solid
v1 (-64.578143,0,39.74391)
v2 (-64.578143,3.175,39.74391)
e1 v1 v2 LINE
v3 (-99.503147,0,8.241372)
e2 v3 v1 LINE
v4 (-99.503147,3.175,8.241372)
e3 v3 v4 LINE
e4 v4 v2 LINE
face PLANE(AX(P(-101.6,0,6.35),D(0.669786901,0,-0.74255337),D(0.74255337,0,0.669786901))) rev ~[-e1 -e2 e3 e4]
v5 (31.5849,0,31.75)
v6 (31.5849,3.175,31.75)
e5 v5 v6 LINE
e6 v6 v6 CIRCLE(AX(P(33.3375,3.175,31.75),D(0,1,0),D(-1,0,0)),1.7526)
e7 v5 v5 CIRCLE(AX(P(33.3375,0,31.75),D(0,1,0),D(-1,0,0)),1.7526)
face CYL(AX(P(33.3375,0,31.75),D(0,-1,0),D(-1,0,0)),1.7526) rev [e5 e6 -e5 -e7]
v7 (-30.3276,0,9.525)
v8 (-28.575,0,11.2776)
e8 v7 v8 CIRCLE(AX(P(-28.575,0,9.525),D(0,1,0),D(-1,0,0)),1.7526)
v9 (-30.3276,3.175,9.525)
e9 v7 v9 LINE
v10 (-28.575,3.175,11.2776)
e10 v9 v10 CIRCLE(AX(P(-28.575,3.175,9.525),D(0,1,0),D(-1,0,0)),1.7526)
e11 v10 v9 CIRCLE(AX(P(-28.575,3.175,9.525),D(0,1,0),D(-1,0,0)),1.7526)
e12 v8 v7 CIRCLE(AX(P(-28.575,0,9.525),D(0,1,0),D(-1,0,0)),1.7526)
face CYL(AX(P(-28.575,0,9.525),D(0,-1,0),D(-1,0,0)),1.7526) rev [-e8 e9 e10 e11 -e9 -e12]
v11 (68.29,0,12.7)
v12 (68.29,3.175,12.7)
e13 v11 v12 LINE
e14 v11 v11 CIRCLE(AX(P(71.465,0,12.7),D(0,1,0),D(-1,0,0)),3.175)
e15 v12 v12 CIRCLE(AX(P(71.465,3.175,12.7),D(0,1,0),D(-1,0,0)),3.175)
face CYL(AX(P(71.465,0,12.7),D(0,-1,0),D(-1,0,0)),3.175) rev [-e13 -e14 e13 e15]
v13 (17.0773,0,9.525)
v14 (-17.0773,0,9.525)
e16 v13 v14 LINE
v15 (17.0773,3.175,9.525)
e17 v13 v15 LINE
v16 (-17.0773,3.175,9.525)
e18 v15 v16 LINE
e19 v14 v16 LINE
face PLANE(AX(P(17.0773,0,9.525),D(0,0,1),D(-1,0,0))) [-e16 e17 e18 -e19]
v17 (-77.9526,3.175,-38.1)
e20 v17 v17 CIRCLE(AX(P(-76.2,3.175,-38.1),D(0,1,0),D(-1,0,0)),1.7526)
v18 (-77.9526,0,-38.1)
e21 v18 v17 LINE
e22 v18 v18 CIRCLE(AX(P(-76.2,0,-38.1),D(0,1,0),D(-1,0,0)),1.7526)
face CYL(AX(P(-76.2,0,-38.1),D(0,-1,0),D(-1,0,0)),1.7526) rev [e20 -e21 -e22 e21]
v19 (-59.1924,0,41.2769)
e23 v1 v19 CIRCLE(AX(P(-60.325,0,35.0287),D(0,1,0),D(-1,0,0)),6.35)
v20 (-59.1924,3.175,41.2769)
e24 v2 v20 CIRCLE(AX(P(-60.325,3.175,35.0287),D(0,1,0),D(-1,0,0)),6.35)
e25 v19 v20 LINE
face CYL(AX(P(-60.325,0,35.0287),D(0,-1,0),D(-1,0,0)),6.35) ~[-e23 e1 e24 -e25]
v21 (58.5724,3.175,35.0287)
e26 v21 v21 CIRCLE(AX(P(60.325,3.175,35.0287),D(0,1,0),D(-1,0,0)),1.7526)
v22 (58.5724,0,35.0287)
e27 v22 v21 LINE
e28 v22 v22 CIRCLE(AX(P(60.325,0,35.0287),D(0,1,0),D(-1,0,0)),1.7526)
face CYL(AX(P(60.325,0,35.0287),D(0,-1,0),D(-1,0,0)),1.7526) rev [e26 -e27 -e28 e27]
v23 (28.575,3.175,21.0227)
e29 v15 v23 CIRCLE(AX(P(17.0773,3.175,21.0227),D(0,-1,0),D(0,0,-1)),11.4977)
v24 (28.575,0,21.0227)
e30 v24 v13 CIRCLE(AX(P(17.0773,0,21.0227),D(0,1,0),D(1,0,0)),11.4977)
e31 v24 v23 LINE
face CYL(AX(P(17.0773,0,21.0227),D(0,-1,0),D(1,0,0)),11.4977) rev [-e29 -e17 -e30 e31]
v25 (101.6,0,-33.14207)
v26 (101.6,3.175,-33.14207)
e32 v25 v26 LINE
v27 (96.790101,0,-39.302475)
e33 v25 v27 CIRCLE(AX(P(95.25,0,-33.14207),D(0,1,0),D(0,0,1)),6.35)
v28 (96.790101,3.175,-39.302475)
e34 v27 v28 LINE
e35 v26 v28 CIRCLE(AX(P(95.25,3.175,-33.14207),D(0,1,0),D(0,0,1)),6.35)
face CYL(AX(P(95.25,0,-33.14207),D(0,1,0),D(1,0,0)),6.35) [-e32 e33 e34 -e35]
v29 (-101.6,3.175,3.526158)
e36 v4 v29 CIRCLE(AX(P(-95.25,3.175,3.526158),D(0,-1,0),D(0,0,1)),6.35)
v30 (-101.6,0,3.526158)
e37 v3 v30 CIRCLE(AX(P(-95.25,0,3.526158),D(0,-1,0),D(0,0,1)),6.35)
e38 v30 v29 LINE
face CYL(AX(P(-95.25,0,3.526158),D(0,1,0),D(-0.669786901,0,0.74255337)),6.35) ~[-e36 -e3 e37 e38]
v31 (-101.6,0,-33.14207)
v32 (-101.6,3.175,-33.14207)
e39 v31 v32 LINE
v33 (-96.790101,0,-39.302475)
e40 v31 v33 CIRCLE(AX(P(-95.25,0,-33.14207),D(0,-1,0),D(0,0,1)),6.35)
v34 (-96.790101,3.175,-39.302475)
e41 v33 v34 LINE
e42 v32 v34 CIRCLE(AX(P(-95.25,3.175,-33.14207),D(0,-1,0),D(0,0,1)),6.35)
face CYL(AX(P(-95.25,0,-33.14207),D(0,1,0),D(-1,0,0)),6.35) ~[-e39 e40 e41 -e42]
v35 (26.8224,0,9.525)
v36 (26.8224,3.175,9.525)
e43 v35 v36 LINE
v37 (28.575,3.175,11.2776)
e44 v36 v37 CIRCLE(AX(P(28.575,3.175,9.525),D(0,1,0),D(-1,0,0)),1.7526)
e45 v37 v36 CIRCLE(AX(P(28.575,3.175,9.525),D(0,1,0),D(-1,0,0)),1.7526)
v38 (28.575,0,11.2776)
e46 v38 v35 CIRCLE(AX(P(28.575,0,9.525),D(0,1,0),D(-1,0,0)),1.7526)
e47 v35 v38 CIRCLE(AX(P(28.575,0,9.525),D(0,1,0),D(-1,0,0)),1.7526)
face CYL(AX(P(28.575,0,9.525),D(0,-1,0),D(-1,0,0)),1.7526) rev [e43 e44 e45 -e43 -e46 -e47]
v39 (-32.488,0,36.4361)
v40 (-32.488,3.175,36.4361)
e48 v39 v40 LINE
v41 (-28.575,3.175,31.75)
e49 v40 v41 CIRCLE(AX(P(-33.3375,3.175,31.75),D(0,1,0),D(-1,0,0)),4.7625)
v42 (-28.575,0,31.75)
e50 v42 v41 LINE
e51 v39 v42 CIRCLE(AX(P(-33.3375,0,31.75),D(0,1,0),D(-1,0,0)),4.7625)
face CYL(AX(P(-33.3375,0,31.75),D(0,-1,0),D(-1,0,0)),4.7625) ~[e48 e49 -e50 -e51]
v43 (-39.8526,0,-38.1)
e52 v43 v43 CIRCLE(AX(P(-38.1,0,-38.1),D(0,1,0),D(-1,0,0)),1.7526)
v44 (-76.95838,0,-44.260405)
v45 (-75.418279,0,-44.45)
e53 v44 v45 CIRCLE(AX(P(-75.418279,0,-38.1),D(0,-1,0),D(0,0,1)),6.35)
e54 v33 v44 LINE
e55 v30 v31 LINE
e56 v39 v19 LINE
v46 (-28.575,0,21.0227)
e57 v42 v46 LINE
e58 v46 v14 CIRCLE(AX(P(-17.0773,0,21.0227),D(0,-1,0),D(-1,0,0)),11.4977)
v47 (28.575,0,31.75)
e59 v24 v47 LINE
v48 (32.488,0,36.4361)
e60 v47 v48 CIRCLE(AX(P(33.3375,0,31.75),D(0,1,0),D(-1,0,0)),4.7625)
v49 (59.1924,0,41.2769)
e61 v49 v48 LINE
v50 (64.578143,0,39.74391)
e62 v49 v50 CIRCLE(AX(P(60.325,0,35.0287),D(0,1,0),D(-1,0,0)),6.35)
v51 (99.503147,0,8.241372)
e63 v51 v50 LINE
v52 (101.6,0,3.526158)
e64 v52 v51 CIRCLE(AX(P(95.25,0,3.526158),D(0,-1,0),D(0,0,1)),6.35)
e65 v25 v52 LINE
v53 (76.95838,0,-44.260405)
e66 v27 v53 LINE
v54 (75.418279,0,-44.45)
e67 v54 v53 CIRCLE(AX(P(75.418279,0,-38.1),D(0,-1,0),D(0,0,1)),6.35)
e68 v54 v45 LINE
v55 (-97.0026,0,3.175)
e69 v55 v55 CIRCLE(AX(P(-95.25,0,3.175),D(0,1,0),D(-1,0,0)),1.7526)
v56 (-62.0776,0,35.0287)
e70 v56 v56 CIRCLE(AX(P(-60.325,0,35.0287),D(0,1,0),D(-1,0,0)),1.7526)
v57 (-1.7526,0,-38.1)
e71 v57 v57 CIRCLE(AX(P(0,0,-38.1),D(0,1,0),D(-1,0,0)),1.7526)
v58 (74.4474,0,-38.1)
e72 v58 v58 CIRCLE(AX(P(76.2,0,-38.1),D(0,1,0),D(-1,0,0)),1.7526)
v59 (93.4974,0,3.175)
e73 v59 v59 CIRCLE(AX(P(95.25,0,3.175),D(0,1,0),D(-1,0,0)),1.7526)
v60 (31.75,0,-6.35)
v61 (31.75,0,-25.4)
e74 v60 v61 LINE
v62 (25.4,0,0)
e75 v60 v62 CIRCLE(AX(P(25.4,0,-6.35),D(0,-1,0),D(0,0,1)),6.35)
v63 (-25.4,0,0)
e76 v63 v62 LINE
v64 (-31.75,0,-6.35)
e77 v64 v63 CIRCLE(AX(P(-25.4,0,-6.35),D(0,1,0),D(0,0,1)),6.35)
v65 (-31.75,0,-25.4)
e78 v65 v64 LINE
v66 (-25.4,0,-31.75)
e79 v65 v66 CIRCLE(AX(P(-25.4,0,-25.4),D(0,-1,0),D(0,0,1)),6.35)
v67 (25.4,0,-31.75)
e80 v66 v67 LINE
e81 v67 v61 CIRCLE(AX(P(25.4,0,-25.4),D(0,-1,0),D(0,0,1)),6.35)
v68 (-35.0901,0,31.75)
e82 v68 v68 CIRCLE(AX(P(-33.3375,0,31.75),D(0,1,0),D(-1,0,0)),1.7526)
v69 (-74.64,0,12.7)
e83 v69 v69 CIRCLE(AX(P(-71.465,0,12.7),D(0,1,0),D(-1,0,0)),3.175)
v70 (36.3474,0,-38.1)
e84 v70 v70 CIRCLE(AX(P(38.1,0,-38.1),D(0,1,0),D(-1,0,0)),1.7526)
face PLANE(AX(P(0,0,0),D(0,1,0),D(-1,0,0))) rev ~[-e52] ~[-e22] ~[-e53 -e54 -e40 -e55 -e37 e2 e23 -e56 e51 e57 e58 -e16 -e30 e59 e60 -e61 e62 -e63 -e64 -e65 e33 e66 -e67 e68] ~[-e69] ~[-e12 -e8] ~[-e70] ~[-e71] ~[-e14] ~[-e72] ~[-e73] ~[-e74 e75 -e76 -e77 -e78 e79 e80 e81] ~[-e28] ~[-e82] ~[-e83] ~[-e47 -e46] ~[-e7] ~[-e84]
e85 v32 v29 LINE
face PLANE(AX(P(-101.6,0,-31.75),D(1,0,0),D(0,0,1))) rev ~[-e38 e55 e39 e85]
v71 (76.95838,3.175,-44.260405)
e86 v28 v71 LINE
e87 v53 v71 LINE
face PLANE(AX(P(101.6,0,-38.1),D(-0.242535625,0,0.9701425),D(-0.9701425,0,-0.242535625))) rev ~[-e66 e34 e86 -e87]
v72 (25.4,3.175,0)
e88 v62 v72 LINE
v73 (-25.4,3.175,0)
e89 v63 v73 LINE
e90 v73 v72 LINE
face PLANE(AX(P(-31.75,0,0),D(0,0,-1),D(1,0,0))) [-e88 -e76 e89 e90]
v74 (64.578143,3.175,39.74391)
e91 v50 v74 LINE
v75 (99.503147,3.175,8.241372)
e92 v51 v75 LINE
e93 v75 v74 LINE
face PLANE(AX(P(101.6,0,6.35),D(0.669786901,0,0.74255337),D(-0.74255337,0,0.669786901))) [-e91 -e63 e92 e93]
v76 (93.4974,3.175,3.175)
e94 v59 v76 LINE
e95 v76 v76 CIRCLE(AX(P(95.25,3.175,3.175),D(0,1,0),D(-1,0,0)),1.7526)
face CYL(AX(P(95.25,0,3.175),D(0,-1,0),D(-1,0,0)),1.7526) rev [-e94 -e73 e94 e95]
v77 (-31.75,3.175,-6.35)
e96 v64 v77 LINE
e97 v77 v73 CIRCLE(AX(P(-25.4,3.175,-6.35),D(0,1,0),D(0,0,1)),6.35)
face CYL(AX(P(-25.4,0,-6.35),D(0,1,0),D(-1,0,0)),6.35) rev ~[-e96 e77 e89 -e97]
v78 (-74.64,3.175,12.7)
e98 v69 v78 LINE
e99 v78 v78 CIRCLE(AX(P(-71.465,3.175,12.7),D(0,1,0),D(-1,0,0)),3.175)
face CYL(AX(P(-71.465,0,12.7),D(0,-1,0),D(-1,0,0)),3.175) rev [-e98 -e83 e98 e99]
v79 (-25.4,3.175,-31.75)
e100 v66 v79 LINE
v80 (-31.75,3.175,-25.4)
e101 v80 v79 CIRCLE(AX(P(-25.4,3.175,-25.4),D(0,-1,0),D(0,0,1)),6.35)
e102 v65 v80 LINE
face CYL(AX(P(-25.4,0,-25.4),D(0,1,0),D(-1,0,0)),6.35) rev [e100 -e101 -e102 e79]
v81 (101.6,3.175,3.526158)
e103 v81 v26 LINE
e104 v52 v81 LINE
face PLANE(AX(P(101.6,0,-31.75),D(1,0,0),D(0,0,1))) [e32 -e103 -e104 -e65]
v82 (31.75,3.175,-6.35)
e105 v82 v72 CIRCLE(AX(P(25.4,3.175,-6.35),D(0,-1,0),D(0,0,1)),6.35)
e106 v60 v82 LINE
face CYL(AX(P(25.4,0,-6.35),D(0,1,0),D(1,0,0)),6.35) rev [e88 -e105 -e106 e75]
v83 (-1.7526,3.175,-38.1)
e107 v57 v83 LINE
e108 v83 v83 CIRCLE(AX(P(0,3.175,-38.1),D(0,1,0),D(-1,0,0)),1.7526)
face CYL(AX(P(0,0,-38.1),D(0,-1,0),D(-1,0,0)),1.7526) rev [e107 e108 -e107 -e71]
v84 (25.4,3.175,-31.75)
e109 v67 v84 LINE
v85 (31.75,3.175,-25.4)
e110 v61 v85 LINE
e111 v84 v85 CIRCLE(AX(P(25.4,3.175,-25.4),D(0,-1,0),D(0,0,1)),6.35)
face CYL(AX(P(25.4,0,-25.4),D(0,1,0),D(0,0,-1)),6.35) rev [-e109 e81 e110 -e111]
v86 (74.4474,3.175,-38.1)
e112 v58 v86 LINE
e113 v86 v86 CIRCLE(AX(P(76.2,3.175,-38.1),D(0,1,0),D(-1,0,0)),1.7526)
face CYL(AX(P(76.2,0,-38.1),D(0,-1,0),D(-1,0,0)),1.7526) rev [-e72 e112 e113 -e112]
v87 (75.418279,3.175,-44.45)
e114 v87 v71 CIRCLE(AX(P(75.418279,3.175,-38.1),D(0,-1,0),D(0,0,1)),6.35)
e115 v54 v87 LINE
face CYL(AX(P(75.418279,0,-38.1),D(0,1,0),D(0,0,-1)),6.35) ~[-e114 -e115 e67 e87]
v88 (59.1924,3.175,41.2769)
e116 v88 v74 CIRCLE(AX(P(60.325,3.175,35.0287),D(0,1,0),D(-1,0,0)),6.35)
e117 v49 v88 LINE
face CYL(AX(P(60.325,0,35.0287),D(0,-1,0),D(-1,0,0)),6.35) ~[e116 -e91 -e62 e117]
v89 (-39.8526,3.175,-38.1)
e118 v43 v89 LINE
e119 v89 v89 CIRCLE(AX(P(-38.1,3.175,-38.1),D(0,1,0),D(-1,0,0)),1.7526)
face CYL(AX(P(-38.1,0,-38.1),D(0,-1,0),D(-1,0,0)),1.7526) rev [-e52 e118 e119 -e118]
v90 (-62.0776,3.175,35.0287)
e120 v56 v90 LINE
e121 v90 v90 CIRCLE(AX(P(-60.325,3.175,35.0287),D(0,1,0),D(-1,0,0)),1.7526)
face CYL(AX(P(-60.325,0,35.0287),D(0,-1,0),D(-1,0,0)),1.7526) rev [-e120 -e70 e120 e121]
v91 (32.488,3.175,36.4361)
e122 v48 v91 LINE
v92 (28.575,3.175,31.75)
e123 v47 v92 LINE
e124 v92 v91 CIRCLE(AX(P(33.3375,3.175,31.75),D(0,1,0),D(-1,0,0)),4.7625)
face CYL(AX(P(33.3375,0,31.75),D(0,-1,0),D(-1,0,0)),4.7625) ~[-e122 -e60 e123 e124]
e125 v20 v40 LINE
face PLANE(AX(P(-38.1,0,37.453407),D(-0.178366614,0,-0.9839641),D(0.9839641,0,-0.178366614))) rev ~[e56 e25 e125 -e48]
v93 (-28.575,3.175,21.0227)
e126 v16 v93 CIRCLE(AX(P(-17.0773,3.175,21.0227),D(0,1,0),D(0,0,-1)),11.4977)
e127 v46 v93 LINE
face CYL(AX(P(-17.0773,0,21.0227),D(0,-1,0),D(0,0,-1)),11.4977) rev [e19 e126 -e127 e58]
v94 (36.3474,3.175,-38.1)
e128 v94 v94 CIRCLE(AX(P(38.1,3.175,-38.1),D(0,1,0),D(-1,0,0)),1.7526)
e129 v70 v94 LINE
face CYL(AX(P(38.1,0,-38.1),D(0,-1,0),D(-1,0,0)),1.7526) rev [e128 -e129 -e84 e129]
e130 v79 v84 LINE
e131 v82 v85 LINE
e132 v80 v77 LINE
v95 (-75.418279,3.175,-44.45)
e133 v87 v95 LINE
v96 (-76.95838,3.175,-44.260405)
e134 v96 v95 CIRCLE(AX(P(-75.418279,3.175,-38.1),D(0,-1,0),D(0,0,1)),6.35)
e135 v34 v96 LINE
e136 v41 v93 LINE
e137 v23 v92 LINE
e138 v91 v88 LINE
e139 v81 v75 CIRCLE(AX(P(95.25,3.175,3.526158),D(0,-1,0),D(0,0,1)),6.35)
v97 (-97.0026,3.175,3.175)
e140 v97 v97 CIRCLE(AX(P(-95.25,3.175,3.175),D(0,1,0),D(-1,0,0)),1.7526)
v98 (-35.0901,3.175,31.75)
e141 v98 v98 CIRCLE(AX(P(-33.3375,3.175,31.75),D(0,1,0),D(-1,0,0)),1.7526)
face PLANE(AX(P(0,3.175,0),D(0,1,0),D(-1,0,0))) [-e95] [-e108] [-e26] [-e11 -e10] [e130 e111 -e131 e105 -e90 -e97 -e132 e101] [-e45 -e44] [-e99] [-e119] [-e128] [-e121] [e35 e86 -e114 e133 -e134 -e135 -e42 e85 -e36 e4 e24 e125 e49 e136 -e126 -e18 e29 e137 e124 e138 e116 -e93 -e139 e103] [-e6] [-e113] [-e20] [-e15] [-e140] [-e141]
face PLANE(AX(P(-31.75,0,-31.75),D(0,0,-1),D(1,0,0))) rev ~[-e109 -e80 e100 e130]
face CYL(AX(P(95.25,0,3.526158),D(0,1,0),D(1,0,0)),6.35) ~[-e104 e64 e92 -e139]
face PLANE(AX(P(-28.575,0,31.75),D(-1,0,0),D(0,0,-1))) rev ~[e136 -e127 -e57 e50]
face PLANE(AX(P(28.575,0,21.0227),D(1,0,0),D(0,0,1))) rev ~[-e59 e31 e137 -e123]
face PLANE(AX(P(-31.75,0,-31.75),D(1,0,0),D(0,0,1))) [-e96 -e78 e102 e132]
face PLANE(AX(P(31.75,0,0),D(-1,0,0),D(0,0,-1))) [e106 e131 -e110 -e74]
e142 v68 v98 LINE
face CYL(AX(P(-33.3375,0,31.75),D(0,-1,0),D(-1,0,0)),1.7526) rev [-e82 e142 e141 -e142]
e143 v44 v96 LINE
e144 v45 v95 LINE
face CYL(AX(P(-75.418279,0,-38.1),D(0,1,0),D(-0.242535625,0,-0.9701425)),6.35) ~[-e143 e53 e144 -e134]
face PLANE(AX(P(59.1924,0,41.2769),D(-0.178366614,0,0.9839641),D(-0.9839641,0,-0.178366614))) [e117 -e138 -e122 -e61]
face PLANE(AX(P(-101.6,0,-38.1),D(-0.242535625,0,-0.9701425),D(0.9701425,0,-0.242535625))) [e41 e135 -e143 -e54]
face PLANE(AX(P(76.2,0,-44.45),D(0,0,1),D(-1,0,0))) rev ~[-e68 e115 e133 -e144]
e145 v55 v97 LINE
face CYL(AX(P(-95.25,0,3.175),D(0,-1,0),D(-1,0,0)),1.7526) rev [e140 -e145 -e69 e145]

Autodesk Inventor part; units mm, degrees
ref_plane "YZ Plane" through (0, 0, 0) normal (1, 0, 0) x (0, 1, 0)
ref_plane "XZ Plane" through (0, 0, 0) normal (0, 1, 0) x (-1, 0, 0)
ref_plane "XY Plane" through (0, 0, 0) normal (0, 0, 1) x (1, 0, 0)
sketch "Sketch1" plane through (0, 0, 0) normal (0, 1, 0) x (-1, 0, 0)
  line L0 (101.6, 38.1) -> (-101.6, 38.1) construction
  line L1 (-101.6, 38.1) -> (-101.6, -38.1) construction
  line L2 (-101.6, -38.1) -> (101.6, -38.1) construction
  line L3 (101.6, -38.1) -> (101.6, 38.1) construction
  line L4 (101.6, 38.1) -> (-101.6, -38.1) construction
  line L5 (-101.6, 38.1) -> (101.6, -38.1) construction
  line L6 (-28.575, 66.675) -> (28.575, 66.675) construction
  line L7 (28.575, 66.675) -> (28.575, 9.525)
  line L8 (28.575, 9.525) -> (-28.575, 9.525) construction
  line L9 (-28.575, 9.525) -> (-28.575, 66.675)
  line L10 (-28.575, 66.675) -> (28.575, 9.525) construction
  line L11 (28.575, 66.675) -> (-28.575, 9.525) construction
  circle A0 centre (-38.1, 50.8) radius 3.175
  line L12 (0, 38.1) -> (0, -38.1) construction
  circle A1 centre (-38.1, 50.8) radius 9.525
  line L13 (-38.1, 60.325) -> (-28.575, 60.325)
  circle A2 centre (38.1, 50.8) radius 3.175
  circle A3 centre (38.1, 50.8) radius 9.525
  line L14 (38.1, 60.325) -> (28.575, 60.325)
  circle A4 centre (-76.2, -38.1) radius 1.7526
  circle A5 centre (-95.25, 3.175) radius 1.7526
  circle A6 centre (76.2, -38.1) radius 1.7526
  circle A7 centre (95.25, 3.175) radius 1.7526
  line L15 (-101.6, -38.1) -> (-101.6, 6.35)
  line L16 (-101.6, 6.35) -> (-44.4797, 57.8728)
  line L17 (101.6, -38.1) -> (101.6, 6.35)
  line L18 (101.6, 6.35) -> (44.4797, 57.8728)
  line L19 (-42.6417, 42.4275) -> (-87.975, 1.5367) construction
  line L20 (-87.975, 1.5367) -> (-87.975, -38.1)
  line L21 (87.975, -38.1) -> (87.975, 1.5367)
  line L22 (87.975, 1.5367) -> (42.6417, 42.4275) construction
  line L23 (0, -38.1) -> (-95.25, -38.1) construction
  line L24 (0, -38.1) -> (95.25, -38.1) construction
  circle A8 centre (-60.325, 35.0287) radius 1.7526
  circle A9 centre (-33.3375, 31.75) radius 1.7526
  line L25 (-38.1, 0) -> (-38.1, 41.275)
  line L26 (-38.1, 0) -> (0, 0) construction
  circle A10 centre (60.325, 35.0287) radius 1.7526
  circle A11 centre (33.3375, 31.75) radius 1.7526
  line L27 (38.1, 0) -> (38.1, 41.275)
  line L28 (38.1, 0) -> (0, 0) construction
  line L29 (-87.975, 0) -> (-65.115, 0)
  line L30 (-65.115, 0) -> (-65.115, -31.75)
  line L31 (-65.115, -31.75) -> (-87.975, -31.75)
  line L32 (-101.6, -38.1) -> (101.6, -38.1) construction
  line L33 (101.6, -38.1) -> (101.6, 19.05)
  line L34 (101.6, 19.05) -> (-101.6, 19.05) construction
  line L35 (-101.6, 19.05) -> (-101.6, -38.1)
  line L36 (-101.6, 19.05) -> (-87.5203, 19.05) construction
  line L37 (87.5203, 19.05) -> (101.6, 19.05) construction
  circle A12 centre (-38.1, 0) radius 3.175 construction
  circle A13 centre (-38.1, 0) radius 6.35 construction
  circle A14 centre (38.1, 0) radius 3.175 construction
  circle A15 centre (38.1, 0) radius 6.35 construction
  circle A16 centre (28.575, 9.525) radius 1.7526
  circle A17 centre (28.575, 9.525) radius 4.7625
  arc A18 (17.0773, 9.525) -> (28.575, 21.0227) centre (17.0773, 21.0227) ccw
  circle A19 centre (-28.575, 9.525) radius 1.7526
  circle A20 centre (-28.575, 9.525) radius 4.7625
  arc A21 (-28.575, 21.0227) -> (-17.0773, 9.525) centre (-17.0773, 21.0227) ccw
  arc A22 (31.4325, 5.715) -> (38.1, 19.05) centre (21.4312, 19.05) ccw
  arc A23 (-38.1, 19.05) -> (-31.4325, 5.715) centre (-21.4312, 19.05) ccw
  line L38 (-61.94, -38.1) -> (-61.94, 25.0204)
  line L39 (87.975, 0) -> (65.115, 0)
  line L40 (65.115, 0) -> (65.115, -31.75)
  line L41 (65.115, -31.75) -> (87.975, -31.75)
  line L42 (61.94, -38.1) -> (61.94, 25.0204)
  line L43 (-28.575, 4.7625) -> (28.575, 4.7625)
  line L44 (101.6, -31.75) -> (-101.6, -31.75)
  line L45 (-101.6, -31.75) -> (-101.6, -44.45) construction
  line L46 (-101.6, -44.45) -> (101.6, -44.45)
  line L47 (101.6, -44.45) -> (101.6, -31.75) construction
  circle A24 centre (0, -38.1) radius 1.7526
  circle A25 centre (38.1, -38.1) radius 1.7526
  circle A26 centre (-38.1, -38.1) radius 1.7526
  line L48 (101.6, -38.1) -> (76.2, -44.45)
  line L49 (-101.6, -38.1) -> (-76.2, -44.45)
  line L50 (76.2, -38.1) -> (76.2, -44.45) construction
  line L51 (-76.2, -38.1) -> (-76.2, -44.45) construction
  line L52 (59.1924, 41.2769) -> (32.488, 36.4361)
  circle A27 centre (60.325, 35.0287) radius 6.35
  circle A28 centre (33.3375, 31.75) radius 4.7625
  line L53 (-59.1924, 41.2769) -> (-32.488, 36.4361)
  circle A29 centre (-60.325, 35.0287) radius 6.35
  circle A30 centre (-33.3375, 31.75) radius 4.7625
  line L54 (-87.975, 0) -> (-65.115, 0)
  line L55 (-65.115, 0) -> (-65.115, -3.175)
  line L56 (-65.115, -3.175) -> (-87.975, -3.175)
  line L57 (-87.975, -3.175) -> (-87.975, 0)
  line L58 (-65.115, -15.875) -> (-87.975, -15.875) construction
  line L59 (-65.115, -28.575) -> (-87.975, -28.575)
  line L60 (-84.8, -38.1) -> (-84.8, 0.1248)
  line L61 (65.115, -3.175) -> (87.975, -3.175)
  line L62 (65.115, -15.875) -> (87.975, -15.875) construction
  line L63 (65.115, -28.575) -> (87.975, -28.575)
  line L64 (84.8, -38.1) -> (84.8, 0.1248)
  line L65 (-31.75, -31.75) -> (31.75, -31.75)
  line L66 (31.75, -31.75) -> (31.75, 0)
  line L67 (31.75, 0) -> (-31.75, 0)
  line L68 (-31.75, 0) -> (-31.75, -31.75)
  circle A31 centre (71.465, 12.7) radius 3.175
  circle A32 centre (-71.465, 12.7) radius 3.175
  line L69 (-17.0773, 9.525) -> (17.0773, 9.525)
  point P0 (28.575, 38.1)
  point P1 (-28.575, 38.1)
  point P2 (28.575, 60.325)
  point P3 (44.4797, 57.8728)
  point P4 (101.6, -15.875)
  point P5 (38.1, 41.275)
  point P6 (-87.975, -31.75)
  point P7 (-101.6, 6.35)
  point P8 (101.6, 6.35)
  point P9 (31.75, 0)
  point P10 (38.1, 6.35)
  point P11 (-38.1, 6.35)
  point P12 (-31.75, 0)
  point P13 (87.975, 0)
  point P14 (61.94, 25.0204)
  point P15 (-17.0773, 9.525)
  point P16 (-28.575, 21.0227)
  point P17 (-38.1, 19.05)
  point P18 (-31.4325, 5.715)
  point P19 (-21.8502, 0)
  point P20 (21.8502, 0)
  point P21 (-25.2074, 12.8926)
  point P22 (-28.575, 14.2875)
  point P23 (-23.8125, 9.525)
  point P24 (-28.575, 50.8)
  point P25 (25.2074, 12.8926)
  point P26 (28.575, 14.2875)
  point P27 (23.8125, 9.525)
  point P28 (28.575, 50.8)
  point P29 (26.8224, 9.525)
  point P30 (28.575, 11.2776)
  point P31 (61.94, -31.75)
  point P32 (-61.94, -31.75)
  point P33 (-28.575, 31.75)
  point P34 (-64.5781, 39.7439)
  point P35 (64.5781, 39.7439)
  point P36 (28.575, 31.75)
  point P37 (-84.8, -3.175)
  point P38 (-84.8, -28.575)
  point P39 (84.8, -3.175)
  point P40 (84.8, -28.575)
  point P41 (31.75, -31.75)
  point P42 (-101.6, -31.75)
  point P43 (31.75, -31.75)
  point P44 (-26.8224, 9.525)
  point P45 (-28.575, 11.2776)
  point P46 (-39.8526, -38.1)
  point P47 (-36.3474, -38.1)
  point P48 (-1.7526, -38.1)
  point P49 (1.7526, -38.1)
  point P50 (36.3474, -38.1)
  point P51 (39.8526, -38.1)
  dimension "d0" = 203.2
  dimension "d1" = 76.2
  dimension "d4" = 57.15
  dimension "d6" = 6.35
  dimension "d7" = 38.1
  dimension "d8" = 19.05
  dimension "d10" = 3.5052
  dimension "d11" = 3.5052
  dimension "d12" = 0
  dimension "d14" = 25.4
  dimension "d15" = 6.35
  dimension "d20" = 50.8
  dimension "d21" = 41.275
  dimension "d22" = 44.45
  dimension "d24" = 12.7
  dimension "d25" = 13.625
  dimension "d26" = 12.7
  dimension "d27" = 13.625
  dimension "d31" = 3.5052
  dimension "d32" = 3.5052
  dimension "d33" = 6.35
  dimension "d34" = 31.75
  dimension "d35" = 4.7625
  dimension "d36" = 22.225
  dimension "d37" = 9.525
  dimension "d39" = 31.75
  dimension "d40" = 6.35
  dimension "d42" = 57.15
  dimension "d43" = 6.35
  dimension "d44" = 9.525
  dimension "d45" = 9.525
  dimension "d46" = 12.7
  dimension "d104" = 3.5052
  dimension "d105" = 9.525
  dimension "d106" = 3.175
  dimension "d107" = 22.86
  dimension "d123" = 88.9
  dimension "d124" = 12.7
  dimension "d125" = 3.5052
  dimension "d126" = 3.5052
  dimension "d127" = 38.1
  dimension "d128" = 28.575
  dimension "d129" = 3.175
  dimension "d130" = 3.175
  dimension "d131" = 31.75
  dimension "d132" = 31.75
  dimension "d133" = 31.75
  dimension "d135" = 6.35
  dimension "d136" = 12.7
  dimension "d137" = 9.525
extrude "Extrusion1" add sketch "Sketch1" along normal blind 3.175 contours A28 L27 A22 A17 L7 | A28 | L7 A17 A18 | L52 L27 A28 | L27 L52 A27 L18 L17 L44 L21 L39 L40 L66 L67 L68 L30 L29 L20 L15 L16 A29 L53 L25 A23 A20 L43 A17 A22 | A27 | A17 | A17 L43 A20 A21 L69 A18 | L17 L48 L46 L49 L15 L44 L31 L41 | A20 | L41 L64 L63 L21 | A23 L25 A30 L9 A20 | A20 L9 A21 | L63 L64 L61 L21 | L41 L40 L63 L64 | L61 L64 L39 L21 | L63 L40 L61 L64 | L25 L53 A30 | A30 | L61 L40 L39 L64 | A29 | L20 L59 L60 L31 | L20 L56 L60 L59 | L60 L59 L30 L31 | L20 L29 L60 L56 | L60 L56 L30 L59 | L60 L29 L30 L56
fillet "Fillet1" radius 6.35 6 edges at (101.6, 1.5875, -38.1) (101.6, 1.5875, 6.35) (-101.6, 1.5875, 6.35) (76.2, 1.5875, -44.45) (-76.2, 1.5875, -44.45) (-101.6, 1.5875, -38.1)
fillet "Fillet5" radius 6.35 4 edges at (31.75, 1.5875, 0) (-31.75, 1.5875, 0) (-31.75, 1.5875, -31.75) (31.75, 1.5875, -31.75)
equation "\"d35\" = 0.5 * d37"
properties part number "Chassis" material "UHMW, White"
